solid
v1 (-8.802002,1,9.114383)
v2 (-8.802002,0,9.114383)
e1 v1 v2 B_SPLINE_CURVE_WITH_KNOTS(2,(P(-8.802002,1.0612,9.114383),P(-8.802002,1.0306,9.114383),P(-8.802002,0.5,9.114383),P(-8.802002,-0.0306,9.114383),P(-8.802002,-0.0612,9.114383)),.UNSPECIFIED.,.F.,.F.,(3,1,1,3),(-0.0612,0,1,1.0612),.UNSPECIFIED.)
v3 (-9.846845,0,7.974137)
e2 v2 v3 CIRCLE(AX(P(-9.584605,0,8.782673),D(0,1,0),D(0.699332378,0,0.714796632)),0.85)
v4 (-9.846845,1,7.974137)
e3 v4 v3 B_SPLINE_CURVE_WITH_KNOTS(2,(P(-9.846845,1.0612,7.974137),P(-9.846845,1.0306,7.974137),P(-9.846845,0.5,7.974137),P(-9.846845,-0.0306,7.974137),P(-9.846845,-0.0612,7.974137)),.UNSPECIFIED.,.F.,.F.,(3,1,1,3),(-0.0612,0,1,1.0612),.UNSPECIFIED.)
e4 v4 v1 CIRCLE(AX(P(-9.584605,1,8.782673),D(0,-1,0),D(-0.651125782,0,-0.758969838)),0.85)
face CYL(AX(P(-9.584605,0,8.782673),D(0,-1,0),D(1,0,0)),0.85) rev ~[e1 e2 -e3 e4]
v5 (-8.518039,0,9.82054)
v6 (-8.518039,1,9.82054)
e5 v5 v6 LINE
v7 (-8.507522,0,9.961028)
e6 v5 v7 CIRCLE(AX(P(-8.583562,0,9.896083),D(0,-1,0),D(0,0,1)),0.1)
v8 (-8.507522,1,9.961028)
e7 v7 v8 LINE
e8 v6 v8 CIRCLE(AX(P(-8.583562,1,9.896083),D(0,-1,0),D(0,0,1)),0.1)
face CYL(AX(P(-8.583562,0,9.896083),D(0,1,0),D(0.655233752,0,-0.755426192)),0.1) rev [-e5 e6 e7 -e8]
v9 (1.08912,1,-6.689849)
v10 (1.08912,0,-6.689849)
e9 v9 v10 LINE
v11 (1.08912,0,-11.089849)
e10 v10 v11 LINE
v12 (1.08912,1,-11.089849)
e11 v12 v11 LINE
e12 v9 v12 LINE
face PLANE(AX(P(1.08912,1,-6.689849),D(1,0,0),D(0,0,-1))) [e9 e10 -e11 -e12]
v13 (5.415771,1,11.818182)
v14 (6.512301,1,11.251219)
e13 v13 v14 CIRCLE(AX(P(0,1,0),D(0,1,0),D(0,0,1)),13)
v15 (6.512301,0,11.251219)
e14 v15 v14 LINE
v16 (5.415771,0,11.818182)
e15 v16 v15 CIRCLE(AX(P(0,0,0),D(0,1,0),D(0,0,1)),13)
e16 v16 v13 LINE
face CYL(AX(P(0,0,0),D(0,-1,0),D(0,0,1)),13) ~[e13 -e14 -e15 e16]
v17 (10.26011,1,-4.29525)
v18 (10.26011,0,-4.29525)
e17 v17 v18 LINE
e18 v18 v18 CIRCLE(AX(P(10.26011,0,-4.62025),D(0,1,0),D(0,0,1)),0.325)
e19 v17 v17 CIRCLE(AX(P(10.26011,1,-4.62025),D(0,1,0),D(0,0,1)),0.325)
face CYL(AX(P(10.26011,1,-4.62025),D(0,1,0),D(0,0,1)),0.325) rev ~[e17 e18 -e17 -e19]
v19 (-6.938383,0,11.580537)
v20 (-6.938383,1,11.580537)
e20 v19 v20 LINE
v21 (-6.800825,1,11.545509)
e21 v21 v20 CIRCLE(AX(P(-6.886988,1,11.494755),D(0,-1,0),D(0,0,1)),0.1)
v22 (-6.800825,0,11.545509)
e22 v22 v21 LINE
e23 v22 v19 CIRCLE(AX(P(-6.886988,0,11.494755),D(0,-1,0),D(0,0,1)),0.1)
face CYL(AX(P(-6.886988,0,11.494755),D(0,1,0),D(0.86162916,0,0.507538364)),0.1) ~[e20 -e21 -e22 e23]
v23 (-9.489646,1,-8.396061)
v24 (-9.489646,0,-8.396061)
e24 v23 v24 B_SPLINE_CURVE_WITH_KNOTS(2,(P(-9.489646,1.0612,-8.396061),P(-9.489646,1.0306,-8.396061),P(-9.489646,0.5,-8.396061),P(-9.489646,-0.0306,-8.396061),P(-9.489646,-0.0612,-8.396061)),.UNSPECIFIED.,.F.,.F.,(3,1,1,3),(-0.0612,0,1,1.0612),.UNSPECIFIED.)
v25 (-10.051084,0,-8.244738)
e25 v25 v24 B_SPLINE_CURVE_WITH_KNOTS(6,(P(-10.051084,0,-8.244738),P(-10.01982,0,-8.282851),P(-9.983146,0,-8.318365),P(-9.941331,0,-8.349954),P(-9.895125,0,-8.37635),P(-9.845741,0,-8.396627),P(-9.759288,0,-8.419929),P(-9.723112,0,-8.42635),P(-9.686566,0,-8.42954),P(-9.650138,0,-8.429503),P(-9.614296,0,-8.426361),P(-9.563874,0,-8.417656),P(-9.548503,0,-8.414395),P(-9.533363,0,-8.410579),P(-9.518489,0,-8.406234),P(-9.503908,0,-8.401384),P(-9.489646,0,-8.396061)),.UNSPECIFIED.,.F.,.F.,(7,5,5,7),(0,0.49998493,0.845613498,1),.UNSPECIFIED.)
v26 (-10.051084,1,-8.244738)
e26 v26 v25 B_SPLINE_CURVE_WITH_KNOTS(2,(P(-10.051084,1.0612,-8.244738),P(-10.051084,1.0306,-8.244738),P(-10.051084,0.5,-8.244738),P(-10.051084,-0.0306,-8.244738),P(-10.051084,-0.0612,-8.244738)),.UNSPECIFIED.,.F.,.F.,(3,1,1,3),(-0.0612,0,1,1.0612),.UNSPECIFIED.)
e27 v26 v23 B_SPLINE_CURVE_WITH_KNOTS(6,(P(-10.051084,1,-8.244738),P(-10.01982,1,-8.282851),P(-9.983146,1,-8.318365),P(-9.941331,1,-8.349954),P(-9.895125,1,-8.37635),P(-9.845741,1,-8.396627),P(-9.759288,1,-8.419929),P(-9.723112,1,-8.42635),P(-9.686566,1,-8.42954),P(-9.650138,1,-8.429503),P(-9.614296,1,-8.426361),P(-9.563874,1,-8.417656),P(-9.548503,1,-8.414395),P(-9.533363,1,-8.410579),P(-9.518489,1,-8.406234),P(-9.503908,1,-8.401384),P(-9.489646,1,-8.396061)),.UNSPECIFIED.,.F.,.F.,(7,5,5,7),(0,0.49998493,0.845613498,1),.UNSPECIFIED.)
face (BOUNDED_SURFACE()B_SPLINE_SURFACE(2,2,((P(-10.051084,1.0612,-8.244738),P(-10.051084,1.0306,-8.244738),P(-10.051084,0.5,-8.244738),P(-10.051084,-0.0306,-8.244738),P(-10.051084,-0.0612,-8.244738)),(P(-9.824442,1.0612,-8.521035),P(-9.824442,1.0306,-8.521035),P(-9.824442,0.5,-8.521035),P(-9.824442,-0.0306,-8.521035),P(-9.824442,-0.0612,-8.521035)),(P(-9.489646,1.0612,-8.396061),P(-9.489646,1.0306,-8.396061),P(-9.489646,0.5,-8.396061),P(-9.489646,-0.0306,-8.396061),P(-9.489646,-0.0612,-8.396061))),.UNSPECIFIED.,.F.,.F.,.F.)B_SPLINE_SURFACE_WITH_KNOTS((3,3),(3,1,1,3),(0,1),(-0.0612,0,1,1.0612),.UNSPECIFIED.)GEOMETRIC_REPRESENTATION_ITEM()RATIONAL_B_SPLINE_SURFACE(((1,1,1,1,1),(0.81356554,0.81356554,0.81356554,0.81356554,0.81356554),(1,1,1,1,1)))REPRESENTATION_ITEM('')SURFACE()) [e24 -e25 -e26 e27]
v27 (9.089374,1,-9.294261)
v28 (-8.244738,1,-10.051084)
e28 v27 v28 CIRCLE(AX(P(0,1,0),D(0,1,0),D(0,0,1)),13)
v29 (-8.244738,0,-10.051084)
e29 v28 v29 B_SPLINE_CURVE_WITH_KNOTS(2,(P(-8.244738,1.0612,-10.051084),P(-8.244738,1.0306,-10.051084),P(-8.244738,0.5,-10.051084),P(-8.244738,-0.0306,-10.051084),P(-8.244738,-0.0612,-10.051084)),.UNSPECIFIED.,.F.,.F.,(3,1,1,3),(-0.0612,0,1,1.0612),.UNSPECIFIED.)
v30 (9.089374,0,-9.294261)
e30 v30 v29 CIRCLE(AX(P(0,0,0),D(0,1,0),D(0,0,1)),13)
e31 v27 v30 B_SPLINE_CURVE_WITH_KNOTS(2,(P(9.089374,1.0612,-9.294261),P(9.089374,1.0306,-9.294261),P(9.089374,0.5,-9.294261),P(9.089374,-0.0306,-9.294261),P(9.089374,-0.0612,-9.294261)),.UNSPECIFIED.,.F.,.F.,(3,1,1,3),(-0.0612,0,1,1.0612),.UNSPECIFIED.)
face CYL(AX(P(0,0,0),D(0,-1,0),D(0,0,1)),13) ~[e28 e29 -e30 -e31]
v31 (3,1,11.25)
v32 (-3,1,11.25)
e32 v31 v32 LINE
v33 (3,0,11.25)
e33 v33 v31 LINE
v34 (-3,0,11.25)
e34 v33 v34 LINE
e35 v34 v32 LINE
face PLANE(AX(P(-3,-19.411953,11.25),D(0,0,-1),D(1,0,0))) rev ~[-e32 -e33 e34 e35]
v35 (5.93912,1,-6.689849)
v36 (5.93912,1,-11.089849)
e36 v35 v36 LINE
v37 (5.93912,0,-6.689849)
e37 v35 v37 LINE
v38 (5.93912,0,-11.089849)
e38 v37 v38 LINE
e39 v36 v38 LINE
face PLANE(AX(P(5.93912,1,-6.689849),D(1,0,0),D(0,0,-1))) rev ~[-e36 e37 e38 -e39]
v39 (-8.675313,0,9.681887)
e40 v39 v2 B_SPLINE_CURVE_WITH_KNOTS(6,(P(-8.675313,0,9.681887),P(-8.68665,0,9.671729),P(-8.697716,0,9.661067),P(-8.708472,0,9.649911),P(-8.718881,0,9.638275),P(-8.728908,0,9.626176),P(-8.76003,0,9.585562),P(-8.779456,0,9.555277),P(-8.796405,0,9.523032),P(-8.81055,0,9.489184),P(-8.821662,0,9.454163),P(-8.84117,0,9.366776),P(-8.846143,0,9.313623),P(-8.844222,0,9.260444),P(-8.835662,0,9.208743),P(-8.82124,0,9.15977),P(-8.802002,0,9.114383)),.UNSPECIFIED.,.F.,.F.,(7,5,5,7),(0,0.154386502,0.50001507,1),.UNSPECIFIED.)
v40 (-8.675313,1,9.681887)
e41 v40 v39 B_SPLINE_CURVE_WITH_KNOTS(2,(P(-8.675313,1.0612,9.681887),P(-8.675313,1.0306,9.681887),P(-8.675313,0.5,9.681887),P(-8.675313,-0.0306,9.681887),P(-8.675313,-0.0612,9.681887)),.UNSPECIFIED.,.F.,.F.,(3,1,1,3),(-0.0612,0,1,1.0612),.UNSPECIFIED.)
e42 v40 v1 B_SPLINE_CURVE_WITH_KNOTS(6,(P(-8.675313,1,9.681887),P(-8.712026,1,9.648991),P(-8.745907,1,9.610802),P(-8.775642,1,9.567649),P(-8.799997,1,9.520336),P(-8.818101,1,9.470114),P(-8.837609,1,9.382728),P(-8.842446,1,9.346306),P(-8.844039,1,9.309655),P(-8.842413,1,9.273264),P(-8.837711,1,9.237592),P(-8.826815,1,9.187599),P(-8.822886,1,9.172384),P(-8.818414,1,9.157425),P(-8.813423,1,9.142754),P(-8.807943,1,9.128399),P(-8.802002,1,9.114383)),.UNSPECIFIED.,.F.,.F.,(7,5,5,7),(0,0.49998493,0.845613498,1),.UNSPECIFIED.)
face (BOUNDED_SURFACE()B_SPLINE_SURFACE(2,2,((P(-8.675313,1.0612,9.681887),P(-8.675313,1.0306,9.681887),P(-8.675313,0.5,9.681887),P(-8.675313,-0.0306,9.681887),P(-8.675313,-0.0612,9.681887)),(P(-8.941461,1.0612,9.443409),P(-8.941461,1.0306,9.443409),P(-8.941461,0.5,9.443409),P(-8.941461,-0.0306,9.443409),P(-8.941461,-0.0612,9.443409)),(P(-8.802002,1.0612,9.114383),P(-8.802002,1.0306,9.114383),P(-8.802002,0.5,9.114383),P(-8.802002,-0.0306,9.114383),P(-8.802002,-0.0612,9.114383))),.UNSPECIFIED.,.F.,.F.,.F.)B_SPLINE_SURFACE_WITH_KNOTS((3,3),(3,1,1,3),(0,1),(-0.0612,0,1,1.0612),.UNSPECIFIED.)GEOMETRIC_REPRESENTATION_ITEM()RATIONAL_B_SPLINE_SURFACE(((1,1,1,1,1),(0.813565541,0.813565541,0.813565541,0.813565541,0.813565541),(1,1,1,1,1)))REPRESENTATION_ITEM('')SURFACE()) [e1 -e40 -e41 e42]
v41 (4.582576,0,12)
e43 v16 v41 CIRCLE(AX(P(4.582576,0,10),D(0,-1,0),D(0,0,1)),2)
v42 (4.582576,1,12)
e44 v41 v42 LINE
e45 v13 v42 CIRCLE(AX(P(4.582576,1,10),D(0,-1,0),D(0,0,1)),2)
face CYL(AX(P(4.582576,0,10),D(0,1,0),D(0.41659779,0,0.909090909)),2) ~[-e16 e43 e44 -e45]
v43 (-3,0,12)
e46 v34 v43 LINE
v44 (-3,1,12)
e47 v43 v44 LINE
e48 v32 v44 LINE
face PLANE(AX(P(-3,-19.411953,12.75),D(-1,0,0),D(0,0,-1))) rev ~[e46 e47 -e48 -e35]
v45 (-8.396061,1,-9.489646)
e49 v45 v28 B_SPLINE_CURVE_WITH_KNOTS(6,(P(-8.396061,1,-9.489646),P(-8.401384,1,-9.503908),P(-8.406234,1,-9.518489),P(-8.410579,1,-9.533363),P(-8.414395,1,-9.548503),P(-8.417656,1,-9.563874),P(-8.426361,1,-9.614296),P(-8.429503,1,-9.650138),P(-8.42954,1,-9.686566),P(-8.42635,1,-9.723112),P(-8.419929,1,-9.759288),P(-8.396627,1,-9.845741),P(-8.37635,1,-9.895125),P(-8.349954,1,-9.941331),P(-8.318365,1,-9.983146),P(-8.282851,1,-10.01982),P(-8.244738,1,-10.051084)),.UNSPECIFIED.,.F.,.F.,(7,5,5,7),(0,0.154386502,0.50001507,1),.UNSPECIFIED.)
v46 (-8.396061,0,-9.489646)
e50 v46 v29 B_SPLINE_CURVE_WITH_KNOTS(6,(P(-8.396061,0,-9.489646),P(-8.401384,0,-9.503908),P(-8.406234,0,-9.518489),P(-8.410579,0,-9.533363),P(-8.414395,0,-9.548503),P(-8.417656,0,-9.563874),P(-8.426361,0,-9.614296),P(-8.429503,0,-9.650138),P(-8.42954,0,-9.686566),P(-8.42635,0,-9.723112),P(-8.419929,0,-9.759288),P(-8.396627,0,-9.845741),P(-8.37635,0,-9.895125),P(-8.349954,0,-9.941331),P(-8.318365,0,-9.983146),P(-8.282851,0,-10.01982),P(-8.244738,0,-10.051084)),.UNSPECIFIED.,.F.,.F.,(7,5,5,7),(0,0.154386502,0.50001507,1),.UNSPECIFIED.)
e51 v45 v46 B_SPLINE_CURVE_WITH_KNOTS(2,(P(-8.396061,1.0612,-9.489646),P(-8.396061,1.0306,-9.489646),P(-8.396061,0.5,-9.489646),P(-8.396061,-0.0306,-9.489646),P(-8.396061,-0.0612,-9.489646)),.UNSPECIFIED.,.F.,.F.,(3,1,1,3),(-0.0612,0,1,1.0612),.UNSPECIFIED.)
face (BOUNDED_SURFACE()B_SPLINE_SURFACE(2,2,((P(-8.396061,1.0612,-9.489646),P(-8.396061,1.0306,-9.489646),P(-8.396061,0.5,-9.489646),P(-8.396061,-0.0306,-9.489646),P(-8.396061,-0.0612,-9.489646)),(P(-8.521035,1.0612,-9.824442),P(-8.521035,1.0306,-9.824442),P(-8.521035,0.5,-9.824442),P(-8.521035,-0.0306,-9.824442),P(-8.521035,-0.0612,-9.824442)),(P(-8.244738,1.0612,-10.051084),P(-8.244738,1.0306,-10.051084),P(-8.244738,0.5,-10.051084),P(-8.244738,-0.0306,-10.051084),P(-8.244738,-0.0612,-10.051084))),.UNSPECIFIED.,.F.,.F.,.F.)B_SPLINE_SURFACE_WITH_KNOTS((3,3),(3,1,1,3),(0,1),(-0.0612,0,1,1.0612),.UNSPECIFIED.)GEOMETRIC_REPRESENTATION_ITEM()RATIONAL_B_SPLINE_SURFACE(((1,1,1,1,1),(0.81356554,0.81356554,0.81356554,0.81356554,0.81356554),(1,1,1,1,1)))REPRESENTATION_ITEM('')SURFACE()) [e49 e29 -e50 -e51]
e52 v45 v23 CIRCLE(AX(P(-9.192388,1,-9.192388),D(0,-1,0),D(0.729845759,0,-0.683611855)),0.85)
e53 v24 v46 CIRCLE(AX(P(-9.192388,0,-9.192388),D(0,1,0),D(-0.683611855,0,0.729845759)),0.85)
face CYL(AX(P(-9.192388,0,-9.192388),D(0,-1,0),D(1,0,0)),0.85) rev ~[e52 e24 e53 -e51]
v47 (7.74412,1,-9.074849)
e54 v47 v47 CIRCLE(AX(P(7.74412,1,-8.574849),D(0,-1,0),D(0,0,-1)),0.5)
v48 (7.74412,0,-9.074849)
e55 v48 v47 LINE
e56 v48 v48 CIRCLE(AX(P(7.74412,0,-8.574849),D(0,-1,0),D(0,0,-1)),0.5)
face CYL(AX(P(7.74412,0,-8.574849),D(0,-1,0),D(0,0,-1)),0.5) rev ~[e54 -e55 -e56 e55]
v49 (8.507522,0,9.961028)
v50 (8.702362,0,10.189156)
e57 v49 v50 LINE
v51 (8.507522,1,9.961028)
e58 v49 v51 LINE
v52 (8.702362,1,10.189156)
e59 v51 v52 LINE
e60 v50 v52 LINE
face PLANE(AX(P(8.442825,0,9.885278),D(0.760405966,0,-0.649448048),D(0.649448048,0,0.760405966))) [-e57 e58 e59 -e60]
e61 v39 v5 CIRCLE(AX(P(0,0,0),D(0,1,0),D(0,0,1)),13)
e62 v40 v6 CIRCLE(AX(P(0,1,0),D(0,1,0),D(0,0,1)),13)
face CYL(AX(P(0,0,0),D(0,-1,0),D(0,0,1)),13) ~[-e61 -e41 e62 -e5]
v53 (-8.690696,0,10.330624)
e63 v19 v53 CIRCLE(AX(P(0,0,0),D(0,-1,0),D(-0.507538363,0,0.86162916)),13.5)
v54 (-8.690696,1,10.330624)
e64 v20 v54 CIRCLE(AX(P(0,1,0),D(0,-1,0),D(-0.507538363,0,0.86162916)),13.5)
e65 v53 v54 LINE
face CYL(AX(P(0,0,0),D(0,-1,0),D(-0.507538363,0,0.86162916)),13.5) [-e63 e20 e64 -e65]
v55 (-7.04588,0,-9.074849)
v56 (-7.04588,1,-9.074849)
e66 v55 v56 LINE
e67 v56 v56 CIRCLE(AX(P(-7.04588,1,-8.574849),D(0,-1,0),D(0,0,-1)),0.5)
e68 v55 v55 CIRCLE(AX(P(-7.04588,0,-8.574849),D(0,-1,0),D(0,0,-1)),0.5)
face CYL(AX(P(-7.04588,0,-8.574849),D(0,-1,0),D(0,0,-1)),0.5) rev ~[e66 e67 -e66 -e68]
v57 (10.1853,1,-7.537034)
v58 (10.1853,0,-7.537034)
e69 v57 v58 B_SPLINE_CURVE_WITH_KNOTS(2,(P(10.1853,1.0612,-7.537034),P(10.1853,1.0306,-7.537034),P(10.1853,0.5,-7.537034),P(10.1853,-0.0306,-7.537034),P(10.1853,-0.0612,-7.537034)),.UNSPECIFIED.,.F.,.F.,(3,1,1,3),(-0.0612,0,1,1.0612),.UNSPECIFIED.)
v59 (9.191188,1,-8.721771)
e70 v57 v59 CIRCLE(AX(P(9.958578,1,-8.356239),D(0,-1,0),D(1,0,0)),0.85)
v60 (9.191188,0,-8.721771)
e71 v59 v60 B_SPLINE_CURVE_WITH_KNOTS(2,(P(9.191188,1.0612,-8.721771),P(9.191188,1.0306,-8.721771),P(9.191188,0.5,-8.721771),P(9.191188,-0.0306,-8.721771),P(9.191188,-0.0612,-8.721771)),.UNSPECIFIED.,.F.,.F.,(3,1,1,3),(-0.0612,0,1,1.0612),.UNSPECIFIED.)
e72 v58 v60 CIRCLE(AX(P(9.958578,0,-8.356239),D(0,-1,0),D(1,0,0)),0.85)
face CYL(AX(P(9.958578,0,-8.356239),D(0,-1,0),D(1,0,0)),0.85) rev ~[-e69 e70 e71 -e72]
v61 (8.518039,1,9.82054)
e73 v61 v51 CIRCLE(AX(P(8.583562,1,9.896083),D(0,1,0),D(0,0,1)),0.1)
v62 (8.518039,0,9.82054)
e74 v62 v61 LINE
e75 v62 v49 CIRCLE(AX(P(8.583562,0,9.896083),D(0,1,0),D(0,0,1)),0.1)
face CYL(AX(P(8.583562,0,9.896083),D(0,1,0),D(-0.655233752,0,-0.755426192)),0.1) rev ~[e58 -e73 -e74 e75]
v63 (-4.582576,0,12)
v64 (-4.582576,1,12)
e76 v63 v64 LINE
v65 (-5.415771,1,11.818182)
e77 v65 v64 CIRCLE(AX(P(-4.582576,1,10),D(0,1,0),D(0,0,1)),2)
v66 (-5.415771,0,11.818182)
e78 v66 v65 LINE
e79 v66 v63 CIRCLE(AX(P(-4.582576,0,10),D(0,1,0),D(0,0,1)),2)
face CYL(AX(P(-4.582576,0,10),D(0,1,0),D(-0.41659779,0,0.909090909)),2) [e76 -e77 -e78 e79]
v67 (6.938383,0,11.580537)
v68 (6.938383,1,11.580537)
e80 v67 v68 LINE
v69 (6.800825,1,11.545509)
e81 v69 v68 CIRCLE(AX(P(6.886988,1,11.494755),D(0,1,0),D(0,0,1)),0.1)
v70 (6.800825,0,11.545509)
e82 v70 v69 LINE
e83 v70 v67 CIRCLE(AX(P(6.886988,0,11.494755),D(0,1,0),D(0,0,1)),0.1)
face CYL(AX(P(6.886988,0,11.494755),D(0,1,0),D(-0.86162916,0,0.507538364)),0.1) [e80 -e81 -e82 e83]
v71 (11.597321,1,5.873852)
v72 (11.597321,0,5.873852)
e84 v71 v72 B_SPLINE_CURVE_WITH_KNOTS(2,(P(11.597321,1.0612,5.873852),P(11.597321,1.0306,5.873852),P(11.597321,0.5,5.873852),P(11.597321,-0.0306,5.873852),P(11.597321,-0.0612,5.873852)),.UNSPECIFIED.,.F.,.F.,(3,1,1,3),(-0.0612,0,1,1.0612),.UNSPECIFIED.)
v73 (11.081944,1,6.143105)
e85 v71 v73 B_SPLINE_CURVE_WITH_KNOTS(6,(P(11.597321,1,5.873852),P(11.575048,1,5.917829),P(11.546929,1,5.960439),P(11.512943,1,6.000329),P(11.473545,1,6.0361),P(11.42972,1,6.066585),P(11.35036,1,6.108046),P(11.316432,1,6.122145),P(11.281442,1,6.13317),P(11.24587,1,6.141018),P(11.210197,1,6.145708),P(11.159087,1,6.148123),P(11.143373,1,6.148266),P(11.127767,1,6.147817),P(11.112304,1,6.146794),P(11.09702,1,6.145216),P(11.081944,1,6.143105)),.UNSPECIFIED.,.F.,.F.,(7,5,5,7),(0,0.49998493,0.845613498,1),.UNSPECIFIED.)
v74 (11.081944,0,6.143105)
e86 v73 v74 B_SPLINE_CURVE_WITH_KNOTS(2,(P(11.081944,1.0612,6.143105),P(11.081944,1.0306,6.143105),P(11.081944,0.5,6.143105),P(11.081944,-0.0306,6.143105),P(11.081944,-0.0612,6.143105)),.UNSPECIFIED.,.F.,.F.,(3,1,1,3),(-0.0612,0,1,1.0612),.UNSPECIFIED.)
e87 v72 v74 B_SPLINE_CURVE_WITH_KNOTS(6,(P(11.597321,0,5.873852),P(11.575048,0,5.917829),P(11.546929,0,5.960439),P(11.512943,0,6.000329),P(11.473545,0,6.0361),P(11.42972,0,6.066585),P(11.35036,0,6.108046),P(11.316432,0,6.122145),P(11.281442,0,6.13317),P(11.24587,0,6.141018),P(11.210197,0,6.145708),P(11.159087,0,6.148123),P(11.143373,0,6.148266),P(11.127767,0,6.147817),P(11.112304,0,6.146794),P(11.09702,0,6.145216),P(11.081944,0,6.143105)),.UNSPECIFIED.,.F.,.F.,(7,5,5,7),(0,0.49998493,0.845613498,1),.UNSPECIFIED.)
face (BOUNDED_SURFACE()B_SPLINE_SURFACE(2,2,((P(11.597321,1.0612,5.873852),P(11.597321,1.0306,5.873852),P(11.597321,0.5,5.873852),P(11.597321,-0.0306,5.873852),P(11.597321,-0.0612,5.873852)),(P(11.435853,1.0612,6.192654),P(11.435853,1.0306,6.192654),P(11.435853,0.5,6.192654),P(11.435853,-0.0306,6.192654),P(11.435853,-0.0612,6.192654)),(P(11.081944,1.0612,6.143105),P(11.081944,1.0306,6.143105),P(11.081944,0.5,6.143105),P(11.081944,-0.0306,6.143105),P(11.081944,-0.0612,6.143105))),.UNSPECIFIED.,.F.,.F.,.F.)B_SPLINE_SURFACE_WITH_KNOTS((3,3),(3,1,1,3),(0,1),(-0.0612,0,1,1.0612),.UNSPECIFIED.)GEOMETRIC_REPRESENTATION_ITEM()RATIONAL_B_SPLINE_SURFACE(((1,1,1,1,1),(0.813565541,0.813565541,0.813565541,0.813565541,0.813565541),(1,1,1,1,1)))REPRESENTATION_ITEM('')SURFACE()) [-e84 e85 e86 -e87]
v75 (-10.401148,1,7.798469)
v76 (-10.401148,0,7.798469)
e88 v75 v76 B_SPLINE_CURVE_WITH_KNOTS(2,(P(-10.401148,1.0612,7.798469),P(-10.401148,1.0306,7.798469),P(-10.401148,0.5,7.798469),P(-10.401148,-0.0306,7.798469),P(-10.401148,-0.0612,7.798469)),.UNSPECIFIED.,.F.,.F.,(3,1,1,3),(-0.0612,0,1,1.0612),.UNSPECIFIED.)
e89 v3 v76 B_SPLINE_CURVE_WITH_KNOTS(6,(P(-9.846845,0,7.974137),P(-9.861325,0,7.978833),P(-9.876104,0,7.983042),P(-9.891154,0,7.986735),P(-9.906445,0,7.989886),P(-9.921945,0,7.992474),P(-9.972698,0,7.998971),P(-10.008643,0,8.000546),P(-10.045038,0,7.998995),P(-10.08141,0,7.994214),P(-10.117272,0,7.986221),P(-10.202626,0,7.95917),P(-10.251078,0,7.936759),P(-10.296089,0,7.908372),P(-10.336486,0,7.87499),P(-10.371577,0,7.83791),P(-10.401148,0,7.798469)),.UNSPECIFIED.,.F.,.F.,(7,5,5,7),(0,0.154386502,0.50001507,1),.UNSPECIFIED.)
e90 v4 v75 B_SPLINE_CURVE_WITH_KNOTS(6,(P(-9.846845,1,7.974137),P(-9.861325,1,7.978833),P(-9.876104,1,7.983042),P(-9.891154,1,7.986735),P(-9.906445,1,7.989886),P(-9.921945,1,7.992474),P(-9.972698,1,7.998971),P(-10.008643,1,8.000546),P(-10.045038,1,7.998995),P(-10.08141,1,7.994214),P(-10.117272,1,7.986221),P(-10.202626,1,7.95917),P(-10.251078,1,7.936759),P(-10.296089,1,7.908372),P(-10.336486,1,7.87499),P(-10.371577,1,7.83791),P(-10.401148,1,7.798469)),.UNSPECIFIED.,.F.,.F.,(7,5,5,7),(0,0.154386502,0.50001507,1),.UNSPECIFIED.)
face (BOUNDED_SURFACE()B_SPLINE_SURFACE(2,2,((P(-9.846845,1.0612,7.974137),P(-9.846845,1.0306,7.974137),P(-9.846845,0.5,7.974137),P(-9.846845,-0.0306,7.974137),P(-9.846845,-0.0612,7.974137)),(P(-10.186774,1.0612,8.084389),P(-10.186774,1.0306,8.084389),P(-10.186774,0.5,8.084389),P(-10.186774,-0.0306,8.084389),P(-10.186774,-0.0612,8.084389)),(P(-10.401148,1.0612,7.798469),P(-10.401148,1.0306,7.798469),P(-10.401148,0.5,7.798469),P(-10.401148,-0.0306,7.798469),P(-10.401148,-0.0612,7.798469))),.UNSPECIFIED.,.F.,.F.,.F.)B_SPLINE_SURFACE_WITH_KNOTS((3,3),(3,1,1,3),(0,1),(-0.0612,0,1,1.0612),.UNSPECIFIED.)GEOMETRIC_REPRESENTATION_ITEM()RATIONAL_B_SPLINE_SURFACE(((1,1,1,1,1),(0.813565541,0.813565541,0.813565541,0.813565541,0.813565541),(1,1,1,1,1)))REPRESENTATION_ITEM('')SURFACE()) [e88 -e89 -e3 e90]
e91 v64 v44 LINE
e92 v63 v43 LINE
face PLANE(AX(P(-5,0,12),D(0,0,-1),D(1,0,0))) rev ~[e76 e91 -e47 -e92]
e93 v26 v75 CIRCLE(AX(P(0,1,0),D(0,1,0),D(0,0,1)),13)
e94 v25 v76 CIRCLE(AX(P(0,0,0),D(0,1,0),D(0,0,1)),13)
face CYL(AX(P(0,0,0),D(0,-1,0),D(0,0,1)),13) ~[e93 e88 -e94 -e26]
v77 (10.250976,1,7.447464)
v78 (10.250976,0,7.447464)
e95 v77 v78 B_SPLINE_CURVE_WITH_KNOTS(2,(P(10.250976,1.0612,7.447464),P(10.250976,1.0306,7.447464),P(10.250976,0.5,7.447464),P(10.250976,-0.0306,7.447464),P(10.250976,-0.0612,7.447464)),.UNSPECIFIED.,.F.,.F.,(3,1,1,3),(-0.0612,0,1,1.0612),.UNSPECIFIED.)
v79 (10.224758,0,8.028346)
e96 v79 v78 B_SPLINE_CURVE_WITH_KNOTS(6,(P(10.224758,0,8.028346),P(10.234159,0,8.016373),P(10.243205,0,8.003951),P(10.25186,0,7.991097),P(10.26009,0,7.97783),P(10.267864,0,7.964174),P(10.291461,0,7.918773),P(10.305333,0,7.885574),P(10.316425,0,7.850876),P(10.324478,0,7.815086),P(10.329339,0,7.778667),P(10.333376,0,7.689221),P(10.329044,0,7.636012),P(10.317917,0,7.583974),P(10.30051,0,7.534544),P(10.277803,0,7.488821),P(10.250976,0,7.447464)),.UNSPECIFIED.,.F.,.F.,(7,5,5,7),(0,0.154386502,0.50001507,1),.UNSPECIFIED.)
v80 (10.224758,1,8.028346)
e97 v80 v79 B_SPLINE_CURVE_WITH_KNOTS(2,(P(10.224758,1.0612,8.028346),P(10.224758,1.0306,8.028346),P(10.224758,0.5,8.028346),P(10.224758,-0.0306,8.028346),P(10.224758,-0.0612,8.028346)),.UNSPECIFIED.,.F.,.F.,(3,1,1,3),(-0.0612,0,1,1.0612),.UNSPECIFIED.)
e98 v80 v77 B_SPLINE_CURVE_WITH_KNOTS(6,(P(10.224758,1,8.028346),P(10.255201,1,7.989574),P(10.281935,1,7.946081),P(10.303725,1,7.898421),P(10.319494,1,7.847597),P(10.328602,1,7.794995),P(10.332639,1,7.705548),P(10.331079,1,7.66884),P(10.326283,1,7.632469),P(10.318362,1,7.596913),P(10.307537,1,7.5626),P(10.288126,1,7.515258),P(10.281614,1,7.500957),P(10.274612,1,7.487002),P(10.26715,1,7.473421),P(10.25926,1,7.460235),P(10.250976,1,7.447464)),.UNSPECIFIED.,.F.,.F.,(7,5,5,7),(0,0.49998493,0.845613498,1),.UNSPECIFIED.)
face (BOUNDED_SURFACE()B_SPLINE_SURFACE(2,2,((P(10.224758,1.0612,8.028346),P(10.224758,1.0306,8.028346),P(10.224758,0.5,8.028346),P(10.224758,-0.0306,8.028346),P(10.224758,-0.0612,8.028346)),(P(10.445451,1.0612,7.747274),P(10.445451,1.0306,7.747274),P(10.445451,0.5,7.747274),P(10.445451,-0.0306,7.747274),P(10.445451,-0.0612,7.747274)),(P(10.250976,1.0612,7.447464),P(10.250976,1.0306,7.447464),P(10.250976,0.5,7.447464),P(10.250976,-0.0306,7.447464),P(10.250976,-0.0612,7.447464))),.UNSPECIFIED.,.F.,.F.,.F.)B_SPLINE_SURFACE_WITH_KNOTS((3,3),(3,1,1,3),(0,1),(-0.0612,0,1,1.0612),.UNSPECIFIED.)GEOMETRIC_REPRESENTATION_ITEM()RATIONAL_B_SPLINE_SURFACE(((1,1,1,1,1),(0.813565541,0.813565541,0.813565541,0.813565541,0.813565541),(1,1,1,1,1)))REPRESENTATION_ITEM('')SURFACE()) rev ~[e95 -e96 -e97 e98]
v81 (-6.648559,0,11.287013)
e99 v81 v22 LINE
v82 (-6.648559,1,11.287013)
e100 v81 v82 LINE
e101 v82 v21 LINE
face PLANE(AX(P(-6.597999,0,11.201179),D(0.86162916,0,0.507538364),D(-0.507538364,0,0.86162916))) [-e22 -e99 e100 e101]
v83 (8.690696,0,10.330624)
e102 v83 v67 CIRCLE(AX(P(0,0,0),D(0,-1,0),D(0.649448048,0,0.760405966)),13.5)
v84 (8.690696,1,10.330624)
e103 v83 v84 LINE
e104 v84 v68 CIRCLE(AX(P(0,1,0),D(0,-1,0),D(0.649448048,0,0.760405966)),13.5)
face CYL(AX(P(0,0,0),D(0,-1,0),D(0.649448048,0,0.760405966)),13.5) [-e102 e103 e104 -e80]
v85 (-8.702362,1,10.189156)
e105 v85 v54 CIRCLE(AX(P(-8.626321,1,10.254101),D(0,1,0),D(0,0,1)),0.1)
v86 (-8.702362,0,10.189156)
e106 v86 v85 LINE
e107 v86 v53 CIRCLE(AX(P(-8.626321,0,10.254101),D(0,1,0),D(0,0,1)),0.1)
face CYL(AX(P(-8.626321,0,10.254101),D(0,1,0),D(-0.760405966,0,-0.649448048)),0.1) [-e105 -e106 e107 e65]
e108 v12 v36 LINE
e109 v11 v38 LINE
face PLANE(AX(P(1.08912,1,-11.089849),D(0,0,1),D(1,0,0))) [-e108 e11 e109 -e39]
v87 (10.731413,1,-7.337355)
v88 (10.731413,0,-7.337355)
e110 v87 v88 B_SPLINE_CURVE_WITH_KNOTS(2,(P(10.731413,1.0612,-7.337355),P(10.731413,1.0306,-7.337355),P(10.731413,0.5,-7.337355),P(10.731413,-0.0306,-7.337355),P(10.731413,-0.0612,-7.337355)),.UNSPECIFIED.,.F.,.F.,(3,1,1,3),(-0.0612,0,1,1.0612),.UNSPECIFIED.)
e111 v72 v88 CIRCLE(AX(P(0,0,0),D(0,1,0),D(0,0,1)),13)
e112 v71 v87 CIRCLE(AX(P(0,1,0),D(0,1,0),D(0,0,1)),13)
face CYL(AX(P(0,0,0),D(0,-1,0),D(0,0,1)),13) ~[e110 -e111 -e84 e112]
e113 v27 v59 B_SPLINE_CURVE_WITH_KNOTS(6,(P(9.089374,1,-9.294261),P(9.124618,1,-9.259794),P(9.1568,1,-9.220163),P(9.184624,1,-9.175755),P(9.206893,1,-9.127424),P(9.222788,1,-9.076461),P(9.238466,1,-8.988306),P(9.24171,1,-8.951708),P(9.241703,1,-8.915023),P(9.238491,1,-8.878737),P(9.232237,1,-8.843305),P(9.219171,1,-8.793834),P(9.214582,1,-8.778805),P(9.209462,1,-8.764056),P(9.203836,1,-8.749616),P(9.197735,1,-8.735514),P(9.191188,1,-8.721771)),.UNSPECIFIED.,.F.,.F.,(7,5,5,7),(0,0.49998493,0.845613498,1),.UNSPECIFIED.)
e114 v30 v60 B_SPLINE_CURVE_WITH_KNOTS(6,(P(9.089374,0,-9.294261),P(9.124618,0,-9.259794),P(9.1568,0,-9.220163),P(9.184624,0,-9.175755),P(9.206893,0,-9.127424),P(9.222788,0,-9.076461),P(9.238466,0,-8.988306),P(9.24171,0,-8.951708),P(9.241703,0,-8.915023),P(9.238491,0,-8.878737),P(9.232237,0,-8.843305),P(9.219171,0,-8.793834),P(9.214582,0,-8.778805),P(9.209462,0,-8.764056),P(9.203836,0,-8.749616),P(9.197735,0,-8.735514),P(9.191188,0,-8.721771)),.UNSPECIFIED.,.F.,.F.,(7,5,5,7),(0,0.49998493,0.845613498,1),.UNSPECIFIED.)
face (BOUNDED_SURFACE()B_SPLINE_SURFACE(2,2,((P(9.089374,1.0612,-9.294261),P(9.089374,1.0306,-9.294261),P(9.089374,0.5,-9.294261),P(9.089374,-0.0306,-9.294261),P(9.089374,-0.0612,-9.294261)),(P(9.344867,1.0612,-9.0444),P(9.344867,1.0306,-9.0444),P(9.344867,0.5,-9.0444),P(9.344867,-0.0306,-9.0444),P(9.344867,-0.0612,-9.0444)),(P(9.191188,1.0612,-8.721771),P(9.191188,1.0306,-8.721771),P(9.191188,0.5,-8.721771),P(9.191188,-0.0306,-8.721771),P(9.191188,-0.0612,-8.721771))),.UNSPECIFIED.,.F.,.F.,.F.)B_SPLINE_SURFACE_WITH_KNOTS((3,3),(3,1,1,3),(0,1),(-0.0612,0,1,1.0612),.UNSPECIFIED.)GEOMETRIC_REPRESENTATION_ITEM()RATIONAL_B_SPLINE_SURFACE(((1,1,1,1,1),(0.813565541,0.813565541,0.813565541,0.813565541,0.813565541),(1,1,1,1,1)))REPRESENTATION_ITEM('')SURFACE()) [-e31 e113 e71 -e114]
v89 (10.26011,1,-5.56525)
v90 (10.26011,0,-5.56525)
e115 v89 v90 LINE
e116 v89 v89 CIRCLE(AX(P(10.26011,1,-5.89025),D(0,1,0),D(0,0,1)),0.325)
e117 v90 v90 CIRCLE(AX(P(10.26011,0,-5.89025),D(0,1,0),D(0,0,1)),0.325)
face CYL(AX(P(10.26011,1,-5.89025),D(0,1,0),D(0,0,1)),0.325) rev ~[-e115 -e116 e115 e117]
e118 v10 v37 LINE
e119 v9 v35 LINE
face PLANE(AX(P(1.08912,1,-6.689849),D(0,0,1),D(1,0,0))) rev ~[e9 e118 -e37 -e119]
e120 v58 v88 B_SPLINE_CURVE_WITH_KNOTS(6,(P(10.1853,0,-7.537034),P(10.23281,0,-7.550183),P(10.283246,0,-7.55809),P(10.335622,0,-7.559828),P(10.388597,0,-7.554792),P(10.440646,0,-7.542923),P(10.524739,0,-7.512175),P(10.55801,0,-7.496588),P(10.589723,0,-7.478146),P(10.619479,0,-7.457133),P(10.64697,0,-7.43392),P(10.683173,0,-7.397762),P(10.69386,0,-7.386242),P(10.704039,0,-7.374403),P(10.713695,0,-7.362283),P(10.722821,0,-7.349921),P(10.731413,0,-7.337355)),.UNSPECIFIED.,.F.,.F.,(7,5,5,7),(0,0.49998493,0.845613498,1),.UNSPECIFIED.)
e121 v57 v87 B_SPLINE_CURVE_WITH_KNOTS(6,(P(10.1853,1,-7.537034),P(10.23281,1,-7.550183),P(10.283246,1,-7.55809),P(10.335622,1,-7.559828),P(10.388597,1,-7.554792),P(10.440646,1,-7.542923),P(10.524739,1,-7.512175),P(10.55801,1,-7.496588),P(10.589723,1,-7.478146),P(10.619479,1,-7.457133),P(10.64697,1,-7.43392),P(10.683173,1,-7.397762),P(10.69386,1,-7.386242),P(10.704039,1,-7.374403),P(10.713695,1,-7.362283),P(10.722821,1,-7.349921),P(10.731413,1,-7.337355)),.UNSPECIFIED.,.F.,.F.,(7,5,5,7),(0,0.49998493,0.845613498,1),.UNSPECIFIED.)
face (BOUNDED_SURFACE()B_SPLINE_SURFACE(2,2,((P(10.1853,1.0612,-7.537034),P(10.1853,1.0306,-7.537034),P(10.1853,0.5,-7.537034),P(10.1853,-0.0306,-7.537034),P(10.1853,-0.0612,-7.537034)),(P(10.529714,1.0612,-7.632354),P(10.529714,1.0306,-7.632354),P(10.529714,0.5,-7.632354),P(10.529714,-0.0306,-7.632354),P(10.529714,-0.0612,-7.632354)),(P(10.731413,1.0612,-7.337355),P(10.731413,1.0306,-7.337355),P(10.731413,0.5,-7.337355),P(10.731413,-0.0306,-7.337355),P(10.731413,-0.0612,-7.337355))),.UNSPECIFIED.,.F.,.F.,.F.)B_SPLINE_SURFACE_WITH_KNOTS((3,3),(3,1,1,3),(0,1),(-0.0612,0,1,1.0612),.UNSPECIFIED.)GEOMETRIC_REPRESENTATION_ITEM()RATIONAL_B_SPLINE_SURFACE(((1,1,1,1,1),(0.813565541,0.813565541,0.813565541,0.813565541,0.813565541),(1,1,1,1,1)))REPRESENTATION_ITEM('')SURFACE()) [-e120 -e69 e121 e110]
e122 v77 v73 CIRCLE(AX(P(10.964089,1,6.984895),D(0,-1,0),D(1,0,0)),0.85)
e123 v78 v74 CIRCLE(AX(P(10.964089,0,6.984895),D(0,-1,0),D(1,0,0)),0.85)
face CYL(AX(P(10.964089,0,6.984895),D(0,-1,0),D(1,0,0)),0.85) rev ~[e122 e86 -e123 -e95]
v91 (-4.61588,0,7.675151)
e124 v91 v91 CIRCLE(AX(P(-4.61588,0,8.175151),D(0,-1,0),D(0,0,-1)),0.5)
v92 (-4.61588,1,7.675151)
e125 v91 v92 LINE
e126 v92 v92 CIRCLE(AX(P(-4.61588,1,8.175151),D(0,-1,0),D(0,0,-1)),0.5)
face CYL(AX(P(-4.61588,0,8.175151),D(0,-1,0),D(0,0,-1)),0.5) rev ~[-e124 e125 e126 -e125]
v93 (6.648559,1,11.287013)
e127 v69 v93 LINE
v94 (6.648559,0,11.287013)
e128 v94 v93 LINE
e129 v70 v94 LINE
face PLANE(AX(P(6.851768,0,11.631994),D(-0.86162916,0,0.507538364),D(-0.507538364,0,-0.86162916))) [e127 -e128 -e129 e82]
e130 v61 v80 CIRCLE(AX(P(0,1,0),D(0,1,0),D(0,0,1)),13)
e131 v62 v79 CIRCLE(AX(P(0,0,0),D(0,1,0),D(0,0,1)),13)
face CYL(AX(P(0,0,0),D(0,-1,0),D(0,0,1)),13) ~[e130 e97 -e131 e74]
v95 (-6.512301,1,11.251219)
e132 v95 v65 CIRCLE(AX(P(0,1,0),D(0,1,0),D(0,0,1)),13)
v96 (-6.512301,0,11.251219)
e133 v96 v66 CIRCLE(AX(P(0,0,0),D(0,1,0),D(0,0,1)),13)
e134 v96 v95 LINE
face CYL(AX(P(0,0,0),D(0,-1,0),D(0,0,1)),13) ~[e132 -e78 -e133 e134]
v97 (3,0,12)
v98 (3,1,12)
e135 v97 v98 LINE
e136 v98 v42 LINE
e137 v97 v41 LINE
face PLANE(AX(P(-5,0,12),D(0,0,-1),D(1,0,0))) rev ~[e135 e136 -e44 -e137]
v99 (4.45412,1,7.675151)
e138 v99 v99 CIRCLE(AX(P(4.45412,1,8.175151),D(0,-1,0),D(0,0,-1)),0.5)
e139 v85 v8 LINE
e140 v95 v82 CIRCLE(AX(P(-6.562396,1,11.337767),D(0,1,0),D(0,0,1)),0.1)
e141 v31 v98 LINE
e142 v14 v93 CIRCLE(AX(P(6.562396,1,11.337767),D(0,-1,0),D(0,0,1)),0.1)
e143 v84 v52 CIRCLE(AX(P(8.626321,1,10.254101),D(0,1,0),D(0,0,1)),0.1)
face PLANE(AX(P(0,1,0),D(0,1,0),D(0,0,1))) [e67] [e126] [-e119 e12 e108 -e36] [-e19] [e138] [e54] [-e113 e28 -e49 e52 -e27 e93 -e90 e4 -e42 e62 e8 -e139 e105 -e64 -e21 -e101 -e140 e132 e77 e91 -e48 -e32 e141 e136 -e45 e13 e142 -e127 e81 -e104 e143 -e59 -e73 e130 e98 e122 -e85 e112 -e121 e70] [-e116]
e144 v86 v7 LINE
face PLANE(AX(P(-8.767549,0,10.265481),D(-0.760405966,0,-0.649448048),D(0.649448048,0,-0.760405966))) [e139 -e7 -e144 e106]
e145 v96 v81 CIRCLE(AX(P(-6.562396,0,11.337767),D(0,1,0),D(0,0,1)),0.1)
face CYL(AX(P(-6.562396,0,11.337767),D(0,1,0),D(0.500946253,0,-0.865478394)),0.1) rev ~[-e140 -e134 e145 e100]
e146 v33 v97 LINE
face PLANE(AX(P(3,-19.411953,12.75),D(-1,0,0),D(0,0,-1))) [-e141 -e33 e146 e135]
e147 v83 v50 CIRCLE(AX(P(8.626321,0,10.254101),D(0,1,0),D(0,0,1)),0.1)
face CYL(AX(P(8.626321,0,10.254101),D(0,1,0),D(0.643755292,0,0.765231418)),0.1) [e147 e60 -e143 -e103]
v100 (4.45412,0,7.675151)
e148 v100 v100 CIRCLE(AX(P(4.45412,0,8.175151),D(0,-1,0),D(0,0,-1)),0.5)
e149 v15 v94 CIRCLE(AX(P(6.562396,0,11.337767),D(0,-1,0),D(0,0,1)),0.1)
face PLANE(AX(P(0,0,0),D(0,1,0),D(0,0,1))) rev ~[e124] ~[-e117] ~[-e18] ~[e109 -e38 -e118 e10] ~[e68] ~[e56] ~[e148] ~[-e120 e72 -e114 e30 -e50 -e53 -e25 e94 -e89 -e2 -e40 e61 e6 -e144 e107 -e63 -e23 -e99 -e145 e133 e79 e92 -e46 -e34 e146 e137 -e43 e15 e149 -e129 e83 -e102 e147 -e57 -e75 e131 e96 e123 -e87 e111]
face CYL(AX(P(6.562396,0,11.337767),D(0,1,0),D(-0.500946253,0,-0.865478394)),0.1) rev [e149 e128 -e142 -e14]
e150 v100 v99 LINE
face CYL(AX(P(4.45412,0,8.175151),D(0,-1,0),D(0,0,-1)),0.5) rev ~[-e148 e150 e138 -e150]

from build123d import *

# Parameters (mm, degrees)
SKETCH1_R               = 13
BOSS_EXTRUDE1_DEPTH     = 1
CUT_EXTRUDE2_DEPTH      = 1
FILLET1_R               = 2
SKETCH4_R               = 0.5
CUT_EXTRUDE3_DEPTH      = 1
SKETCH6_R               = 0.85
CUT_EXTRUDE4_DEPTH      = 10
FILLET2_R               = 0.5
BOSS_EXTRUDE4_START     = -1
BOSS_EXTRUDE4_DEPTH     = 1
FILLET4_R               = 0.1
CUT_EXTRUDE6_DEPTH      = 19.411952786
CUT_EXTRUDE6_DEPTH_BACK = 19.411952786
SKETCH11_W              = 6
SKETCH11_H              = 1.5
SKETCH13_R              = 0.325
SKETCH13_W              = 4.85
SKETCH13_H              = 4.4
CUT_EXTRUDE7_DEPTH      = 1


with BuildPart() as part:
    # Sketch1 → Boss-Extrude1 (new body)
    with BuildSketch(Plane(origin=(0, 0, 0), x_dir=(1, 0, 0), z_dir=(0, 1, 0))):
        with Locations(Location((0, 0, 0), (0, 0, 270))):
            Circle(SKETCH1_R)
    extrude(amount=BOSS_EXTRUDE1_DEPTH)

    # Sketch3 → Cut-Extrude2 (cut)
    with BuildSketch(Plane(origin=(0, 0, 0), x_dir=(1, 0, 0), z_dir=(0, 1, 0))):
        with BuildLine():
            Line((-5, -12), (5, -12))
            ThreePointArc((5, -12), (0, -13), (-5, -12))
        make_face()
    extrude(amount=CUT_EXTRUDE2_DEPTH, mode=Mode.SUBTRACT)

    # Fillet1
    fillet1_edges = [part.edges().sort_by_distance(p)[0] for p in [
        (-5, 0.5, 12),
        (5, 0.5, 12),
    ]]
    fillet(fillet1_edges, radius=FILLET1_R)

    # Sketch4 → Cut-Extrude3 (cut)
    with BuildSketch(Plane.XZ):
        with Locations(Location((4.45412, 8.175151, 0), (0, 0, 270))):
            Circle(SKETCH4_R)
        with Locations(Location((-4.61588, 8.175151, 0), (0, 0, 270))):
            Circle(SKETCH4_R)
        with Locations(Location((-7.04588, -8.574849, 0), (0, 0, 270))):
            Circle(SKETCH4_R)
        with Locations(Location((7.74412, -8.574849, 0), (0, 0, 270))):
            Circle(SKETCH4_R)
    extrude(amount=-CUT_EXTRUDE3_DEPTH, mode=Mode.SUBTRACT)

    # Sketch6 → Cut-Extrude4 (cut)
    with BuildSketch(Plane.XZ):
        with Locations((9.958577761, -8.356238926)):
            Circle(SKETCH6_R)
        with Locations((-9.584605379, 8.782672699)):
            Circle(SKETCH6_R)
        with Locations((-9.192388155, -9.192388155)):
            Circle(SKETCH6_R)
        with Locations((10.964088796, 6.984894909)):
            Circle(SKETCH6_R)
    extrude(amount=-CUT_EXTRUDE4_DEPTH, mode=Mode.SUBTRACT)

    # Fillet2
    fillet2_edges = [part.edges().sort_by_distance(p)[0] for p in [
        (10.484191703, 0.5, 7.686463708),
        (11.397112787, 0.5, 6.25346465),
        (-10.138062294, 0.5, 8.137548337),
        (-8.990172858, 0.5, 9.390249836),
        (-8.57201926, 0.5, -9.773458232),
        (-9.773458232, 0.5, -8.57201926),
        (10.483367978, 0.5, -7.687587127),
        (9.39121315, 0.5, -8.989166567),
    ]]
    fillet(fillet2_edges, radius=FILLET2_R)

    # Sketch10 → Boss-Extrude4 (add)
    with BuildSketch(Plane(origin=(0, 1, 0), x_dir=(1, 0, 0), z_dir=(0, 1, 0)).offset(BOSS_EXTRUDE4_START)):
        with BuildLine():
            Line((-6.597998718, -11.201179086), (-6.8517679, -11.631993666))
            ThreePointArc((-6.8517679, -11.631993666), (-7.839489902, -10.990559498), (-8.767548652, -10.265480536))
            Line((-8.767548652, -10.265480536), (-8.442824628, -9.885277553))
            ThreePointArc((-8.442824628, -9.885277553), (-7.549138424, -10.583501739), (-6.597998718, -11.201179086))
        make_face()
        with BuildLine():
            Line((8.442824628, -9.885277553), (8.767548652, -10.265480536))
            ThreePointArc((8.767548652, -10.265480536), (7.839489902, -10.990559498), (6.8517679, -11.631993666))
            Line((6.8517679, -11.631993666), (6.597998718, -11.201179086))
            ThreePointArc((6.597998718, -11.201179086), (7.549138424, -10.583501739), (8.442824628, -9.885277553))
        make_face()
    extrude(amount=BOSS_EXTRUDE4_DEPTH)

    # Fillet4
    fillet4_edges = [part.edges().sort_by_distance(p)[0] for p in [
        (-8.442824628, 0.5, 9.885277553),
        (-6.597998718, 0.5, 11.201179086),
        (-6.8517679, 0.5, 11.631993666),
        (-8.767548652, 0.5, 10.265480536),
        (6.597998718, 0.5, 11.201179086),
        (8.442824628, 0.5, 9.885277553),
        (8.767548652, 0.5, 10.265480536),
        (6.8517679, 0.5, 11.631993666),
    ]]
    fillet(fillet4_edges, radius=FILLET4_R)

    # Sketch11 → Cut-Extrude6 (cut, two sides: drawn at the far end of the back side and taken through both)
    with BuildSketch(Plane(origin=(0, 0, 0), x_dir=(1, 0, 0), z_dir=(0, 1, 0)).offset(-CUT_EXTRUDE6_DEPTH_BACK)):
        with Locations((0, -12)):
            Rectangle(SKETCH11_W, SKETCH11_H)
    extrude(amount=CUT_EXTRUDE6_DEPTH + CUT_EXTRUDE6_DEPTH_BACK, mode=Mode.SUBTRACT)

    # Sketch13 → Cut-Extrude7 (cut)
    with BuildSketch(Plane(origin=(0, 1, 0), x_dir=(1, 0, 0), z_dir=(0, 1, 0))):
        with Locations(Location((10.26011, 4.62025, 0), (0, 0, 270))):
            Circle(SKETCH13_R)
        with Locations(Location((10.26011, 5.89025, 0), (0, 0, 270))):
            Circle(SKETCH13_R)
        with Locations((3.51412, 8.889849)):
            Rectangle(SKETCH13_W, SKETCH13_H)
    extrude(amount=-CUT_EXTRUDE7_DEPTH, mode=Mode.SUBTRACT)


solid = part.part
